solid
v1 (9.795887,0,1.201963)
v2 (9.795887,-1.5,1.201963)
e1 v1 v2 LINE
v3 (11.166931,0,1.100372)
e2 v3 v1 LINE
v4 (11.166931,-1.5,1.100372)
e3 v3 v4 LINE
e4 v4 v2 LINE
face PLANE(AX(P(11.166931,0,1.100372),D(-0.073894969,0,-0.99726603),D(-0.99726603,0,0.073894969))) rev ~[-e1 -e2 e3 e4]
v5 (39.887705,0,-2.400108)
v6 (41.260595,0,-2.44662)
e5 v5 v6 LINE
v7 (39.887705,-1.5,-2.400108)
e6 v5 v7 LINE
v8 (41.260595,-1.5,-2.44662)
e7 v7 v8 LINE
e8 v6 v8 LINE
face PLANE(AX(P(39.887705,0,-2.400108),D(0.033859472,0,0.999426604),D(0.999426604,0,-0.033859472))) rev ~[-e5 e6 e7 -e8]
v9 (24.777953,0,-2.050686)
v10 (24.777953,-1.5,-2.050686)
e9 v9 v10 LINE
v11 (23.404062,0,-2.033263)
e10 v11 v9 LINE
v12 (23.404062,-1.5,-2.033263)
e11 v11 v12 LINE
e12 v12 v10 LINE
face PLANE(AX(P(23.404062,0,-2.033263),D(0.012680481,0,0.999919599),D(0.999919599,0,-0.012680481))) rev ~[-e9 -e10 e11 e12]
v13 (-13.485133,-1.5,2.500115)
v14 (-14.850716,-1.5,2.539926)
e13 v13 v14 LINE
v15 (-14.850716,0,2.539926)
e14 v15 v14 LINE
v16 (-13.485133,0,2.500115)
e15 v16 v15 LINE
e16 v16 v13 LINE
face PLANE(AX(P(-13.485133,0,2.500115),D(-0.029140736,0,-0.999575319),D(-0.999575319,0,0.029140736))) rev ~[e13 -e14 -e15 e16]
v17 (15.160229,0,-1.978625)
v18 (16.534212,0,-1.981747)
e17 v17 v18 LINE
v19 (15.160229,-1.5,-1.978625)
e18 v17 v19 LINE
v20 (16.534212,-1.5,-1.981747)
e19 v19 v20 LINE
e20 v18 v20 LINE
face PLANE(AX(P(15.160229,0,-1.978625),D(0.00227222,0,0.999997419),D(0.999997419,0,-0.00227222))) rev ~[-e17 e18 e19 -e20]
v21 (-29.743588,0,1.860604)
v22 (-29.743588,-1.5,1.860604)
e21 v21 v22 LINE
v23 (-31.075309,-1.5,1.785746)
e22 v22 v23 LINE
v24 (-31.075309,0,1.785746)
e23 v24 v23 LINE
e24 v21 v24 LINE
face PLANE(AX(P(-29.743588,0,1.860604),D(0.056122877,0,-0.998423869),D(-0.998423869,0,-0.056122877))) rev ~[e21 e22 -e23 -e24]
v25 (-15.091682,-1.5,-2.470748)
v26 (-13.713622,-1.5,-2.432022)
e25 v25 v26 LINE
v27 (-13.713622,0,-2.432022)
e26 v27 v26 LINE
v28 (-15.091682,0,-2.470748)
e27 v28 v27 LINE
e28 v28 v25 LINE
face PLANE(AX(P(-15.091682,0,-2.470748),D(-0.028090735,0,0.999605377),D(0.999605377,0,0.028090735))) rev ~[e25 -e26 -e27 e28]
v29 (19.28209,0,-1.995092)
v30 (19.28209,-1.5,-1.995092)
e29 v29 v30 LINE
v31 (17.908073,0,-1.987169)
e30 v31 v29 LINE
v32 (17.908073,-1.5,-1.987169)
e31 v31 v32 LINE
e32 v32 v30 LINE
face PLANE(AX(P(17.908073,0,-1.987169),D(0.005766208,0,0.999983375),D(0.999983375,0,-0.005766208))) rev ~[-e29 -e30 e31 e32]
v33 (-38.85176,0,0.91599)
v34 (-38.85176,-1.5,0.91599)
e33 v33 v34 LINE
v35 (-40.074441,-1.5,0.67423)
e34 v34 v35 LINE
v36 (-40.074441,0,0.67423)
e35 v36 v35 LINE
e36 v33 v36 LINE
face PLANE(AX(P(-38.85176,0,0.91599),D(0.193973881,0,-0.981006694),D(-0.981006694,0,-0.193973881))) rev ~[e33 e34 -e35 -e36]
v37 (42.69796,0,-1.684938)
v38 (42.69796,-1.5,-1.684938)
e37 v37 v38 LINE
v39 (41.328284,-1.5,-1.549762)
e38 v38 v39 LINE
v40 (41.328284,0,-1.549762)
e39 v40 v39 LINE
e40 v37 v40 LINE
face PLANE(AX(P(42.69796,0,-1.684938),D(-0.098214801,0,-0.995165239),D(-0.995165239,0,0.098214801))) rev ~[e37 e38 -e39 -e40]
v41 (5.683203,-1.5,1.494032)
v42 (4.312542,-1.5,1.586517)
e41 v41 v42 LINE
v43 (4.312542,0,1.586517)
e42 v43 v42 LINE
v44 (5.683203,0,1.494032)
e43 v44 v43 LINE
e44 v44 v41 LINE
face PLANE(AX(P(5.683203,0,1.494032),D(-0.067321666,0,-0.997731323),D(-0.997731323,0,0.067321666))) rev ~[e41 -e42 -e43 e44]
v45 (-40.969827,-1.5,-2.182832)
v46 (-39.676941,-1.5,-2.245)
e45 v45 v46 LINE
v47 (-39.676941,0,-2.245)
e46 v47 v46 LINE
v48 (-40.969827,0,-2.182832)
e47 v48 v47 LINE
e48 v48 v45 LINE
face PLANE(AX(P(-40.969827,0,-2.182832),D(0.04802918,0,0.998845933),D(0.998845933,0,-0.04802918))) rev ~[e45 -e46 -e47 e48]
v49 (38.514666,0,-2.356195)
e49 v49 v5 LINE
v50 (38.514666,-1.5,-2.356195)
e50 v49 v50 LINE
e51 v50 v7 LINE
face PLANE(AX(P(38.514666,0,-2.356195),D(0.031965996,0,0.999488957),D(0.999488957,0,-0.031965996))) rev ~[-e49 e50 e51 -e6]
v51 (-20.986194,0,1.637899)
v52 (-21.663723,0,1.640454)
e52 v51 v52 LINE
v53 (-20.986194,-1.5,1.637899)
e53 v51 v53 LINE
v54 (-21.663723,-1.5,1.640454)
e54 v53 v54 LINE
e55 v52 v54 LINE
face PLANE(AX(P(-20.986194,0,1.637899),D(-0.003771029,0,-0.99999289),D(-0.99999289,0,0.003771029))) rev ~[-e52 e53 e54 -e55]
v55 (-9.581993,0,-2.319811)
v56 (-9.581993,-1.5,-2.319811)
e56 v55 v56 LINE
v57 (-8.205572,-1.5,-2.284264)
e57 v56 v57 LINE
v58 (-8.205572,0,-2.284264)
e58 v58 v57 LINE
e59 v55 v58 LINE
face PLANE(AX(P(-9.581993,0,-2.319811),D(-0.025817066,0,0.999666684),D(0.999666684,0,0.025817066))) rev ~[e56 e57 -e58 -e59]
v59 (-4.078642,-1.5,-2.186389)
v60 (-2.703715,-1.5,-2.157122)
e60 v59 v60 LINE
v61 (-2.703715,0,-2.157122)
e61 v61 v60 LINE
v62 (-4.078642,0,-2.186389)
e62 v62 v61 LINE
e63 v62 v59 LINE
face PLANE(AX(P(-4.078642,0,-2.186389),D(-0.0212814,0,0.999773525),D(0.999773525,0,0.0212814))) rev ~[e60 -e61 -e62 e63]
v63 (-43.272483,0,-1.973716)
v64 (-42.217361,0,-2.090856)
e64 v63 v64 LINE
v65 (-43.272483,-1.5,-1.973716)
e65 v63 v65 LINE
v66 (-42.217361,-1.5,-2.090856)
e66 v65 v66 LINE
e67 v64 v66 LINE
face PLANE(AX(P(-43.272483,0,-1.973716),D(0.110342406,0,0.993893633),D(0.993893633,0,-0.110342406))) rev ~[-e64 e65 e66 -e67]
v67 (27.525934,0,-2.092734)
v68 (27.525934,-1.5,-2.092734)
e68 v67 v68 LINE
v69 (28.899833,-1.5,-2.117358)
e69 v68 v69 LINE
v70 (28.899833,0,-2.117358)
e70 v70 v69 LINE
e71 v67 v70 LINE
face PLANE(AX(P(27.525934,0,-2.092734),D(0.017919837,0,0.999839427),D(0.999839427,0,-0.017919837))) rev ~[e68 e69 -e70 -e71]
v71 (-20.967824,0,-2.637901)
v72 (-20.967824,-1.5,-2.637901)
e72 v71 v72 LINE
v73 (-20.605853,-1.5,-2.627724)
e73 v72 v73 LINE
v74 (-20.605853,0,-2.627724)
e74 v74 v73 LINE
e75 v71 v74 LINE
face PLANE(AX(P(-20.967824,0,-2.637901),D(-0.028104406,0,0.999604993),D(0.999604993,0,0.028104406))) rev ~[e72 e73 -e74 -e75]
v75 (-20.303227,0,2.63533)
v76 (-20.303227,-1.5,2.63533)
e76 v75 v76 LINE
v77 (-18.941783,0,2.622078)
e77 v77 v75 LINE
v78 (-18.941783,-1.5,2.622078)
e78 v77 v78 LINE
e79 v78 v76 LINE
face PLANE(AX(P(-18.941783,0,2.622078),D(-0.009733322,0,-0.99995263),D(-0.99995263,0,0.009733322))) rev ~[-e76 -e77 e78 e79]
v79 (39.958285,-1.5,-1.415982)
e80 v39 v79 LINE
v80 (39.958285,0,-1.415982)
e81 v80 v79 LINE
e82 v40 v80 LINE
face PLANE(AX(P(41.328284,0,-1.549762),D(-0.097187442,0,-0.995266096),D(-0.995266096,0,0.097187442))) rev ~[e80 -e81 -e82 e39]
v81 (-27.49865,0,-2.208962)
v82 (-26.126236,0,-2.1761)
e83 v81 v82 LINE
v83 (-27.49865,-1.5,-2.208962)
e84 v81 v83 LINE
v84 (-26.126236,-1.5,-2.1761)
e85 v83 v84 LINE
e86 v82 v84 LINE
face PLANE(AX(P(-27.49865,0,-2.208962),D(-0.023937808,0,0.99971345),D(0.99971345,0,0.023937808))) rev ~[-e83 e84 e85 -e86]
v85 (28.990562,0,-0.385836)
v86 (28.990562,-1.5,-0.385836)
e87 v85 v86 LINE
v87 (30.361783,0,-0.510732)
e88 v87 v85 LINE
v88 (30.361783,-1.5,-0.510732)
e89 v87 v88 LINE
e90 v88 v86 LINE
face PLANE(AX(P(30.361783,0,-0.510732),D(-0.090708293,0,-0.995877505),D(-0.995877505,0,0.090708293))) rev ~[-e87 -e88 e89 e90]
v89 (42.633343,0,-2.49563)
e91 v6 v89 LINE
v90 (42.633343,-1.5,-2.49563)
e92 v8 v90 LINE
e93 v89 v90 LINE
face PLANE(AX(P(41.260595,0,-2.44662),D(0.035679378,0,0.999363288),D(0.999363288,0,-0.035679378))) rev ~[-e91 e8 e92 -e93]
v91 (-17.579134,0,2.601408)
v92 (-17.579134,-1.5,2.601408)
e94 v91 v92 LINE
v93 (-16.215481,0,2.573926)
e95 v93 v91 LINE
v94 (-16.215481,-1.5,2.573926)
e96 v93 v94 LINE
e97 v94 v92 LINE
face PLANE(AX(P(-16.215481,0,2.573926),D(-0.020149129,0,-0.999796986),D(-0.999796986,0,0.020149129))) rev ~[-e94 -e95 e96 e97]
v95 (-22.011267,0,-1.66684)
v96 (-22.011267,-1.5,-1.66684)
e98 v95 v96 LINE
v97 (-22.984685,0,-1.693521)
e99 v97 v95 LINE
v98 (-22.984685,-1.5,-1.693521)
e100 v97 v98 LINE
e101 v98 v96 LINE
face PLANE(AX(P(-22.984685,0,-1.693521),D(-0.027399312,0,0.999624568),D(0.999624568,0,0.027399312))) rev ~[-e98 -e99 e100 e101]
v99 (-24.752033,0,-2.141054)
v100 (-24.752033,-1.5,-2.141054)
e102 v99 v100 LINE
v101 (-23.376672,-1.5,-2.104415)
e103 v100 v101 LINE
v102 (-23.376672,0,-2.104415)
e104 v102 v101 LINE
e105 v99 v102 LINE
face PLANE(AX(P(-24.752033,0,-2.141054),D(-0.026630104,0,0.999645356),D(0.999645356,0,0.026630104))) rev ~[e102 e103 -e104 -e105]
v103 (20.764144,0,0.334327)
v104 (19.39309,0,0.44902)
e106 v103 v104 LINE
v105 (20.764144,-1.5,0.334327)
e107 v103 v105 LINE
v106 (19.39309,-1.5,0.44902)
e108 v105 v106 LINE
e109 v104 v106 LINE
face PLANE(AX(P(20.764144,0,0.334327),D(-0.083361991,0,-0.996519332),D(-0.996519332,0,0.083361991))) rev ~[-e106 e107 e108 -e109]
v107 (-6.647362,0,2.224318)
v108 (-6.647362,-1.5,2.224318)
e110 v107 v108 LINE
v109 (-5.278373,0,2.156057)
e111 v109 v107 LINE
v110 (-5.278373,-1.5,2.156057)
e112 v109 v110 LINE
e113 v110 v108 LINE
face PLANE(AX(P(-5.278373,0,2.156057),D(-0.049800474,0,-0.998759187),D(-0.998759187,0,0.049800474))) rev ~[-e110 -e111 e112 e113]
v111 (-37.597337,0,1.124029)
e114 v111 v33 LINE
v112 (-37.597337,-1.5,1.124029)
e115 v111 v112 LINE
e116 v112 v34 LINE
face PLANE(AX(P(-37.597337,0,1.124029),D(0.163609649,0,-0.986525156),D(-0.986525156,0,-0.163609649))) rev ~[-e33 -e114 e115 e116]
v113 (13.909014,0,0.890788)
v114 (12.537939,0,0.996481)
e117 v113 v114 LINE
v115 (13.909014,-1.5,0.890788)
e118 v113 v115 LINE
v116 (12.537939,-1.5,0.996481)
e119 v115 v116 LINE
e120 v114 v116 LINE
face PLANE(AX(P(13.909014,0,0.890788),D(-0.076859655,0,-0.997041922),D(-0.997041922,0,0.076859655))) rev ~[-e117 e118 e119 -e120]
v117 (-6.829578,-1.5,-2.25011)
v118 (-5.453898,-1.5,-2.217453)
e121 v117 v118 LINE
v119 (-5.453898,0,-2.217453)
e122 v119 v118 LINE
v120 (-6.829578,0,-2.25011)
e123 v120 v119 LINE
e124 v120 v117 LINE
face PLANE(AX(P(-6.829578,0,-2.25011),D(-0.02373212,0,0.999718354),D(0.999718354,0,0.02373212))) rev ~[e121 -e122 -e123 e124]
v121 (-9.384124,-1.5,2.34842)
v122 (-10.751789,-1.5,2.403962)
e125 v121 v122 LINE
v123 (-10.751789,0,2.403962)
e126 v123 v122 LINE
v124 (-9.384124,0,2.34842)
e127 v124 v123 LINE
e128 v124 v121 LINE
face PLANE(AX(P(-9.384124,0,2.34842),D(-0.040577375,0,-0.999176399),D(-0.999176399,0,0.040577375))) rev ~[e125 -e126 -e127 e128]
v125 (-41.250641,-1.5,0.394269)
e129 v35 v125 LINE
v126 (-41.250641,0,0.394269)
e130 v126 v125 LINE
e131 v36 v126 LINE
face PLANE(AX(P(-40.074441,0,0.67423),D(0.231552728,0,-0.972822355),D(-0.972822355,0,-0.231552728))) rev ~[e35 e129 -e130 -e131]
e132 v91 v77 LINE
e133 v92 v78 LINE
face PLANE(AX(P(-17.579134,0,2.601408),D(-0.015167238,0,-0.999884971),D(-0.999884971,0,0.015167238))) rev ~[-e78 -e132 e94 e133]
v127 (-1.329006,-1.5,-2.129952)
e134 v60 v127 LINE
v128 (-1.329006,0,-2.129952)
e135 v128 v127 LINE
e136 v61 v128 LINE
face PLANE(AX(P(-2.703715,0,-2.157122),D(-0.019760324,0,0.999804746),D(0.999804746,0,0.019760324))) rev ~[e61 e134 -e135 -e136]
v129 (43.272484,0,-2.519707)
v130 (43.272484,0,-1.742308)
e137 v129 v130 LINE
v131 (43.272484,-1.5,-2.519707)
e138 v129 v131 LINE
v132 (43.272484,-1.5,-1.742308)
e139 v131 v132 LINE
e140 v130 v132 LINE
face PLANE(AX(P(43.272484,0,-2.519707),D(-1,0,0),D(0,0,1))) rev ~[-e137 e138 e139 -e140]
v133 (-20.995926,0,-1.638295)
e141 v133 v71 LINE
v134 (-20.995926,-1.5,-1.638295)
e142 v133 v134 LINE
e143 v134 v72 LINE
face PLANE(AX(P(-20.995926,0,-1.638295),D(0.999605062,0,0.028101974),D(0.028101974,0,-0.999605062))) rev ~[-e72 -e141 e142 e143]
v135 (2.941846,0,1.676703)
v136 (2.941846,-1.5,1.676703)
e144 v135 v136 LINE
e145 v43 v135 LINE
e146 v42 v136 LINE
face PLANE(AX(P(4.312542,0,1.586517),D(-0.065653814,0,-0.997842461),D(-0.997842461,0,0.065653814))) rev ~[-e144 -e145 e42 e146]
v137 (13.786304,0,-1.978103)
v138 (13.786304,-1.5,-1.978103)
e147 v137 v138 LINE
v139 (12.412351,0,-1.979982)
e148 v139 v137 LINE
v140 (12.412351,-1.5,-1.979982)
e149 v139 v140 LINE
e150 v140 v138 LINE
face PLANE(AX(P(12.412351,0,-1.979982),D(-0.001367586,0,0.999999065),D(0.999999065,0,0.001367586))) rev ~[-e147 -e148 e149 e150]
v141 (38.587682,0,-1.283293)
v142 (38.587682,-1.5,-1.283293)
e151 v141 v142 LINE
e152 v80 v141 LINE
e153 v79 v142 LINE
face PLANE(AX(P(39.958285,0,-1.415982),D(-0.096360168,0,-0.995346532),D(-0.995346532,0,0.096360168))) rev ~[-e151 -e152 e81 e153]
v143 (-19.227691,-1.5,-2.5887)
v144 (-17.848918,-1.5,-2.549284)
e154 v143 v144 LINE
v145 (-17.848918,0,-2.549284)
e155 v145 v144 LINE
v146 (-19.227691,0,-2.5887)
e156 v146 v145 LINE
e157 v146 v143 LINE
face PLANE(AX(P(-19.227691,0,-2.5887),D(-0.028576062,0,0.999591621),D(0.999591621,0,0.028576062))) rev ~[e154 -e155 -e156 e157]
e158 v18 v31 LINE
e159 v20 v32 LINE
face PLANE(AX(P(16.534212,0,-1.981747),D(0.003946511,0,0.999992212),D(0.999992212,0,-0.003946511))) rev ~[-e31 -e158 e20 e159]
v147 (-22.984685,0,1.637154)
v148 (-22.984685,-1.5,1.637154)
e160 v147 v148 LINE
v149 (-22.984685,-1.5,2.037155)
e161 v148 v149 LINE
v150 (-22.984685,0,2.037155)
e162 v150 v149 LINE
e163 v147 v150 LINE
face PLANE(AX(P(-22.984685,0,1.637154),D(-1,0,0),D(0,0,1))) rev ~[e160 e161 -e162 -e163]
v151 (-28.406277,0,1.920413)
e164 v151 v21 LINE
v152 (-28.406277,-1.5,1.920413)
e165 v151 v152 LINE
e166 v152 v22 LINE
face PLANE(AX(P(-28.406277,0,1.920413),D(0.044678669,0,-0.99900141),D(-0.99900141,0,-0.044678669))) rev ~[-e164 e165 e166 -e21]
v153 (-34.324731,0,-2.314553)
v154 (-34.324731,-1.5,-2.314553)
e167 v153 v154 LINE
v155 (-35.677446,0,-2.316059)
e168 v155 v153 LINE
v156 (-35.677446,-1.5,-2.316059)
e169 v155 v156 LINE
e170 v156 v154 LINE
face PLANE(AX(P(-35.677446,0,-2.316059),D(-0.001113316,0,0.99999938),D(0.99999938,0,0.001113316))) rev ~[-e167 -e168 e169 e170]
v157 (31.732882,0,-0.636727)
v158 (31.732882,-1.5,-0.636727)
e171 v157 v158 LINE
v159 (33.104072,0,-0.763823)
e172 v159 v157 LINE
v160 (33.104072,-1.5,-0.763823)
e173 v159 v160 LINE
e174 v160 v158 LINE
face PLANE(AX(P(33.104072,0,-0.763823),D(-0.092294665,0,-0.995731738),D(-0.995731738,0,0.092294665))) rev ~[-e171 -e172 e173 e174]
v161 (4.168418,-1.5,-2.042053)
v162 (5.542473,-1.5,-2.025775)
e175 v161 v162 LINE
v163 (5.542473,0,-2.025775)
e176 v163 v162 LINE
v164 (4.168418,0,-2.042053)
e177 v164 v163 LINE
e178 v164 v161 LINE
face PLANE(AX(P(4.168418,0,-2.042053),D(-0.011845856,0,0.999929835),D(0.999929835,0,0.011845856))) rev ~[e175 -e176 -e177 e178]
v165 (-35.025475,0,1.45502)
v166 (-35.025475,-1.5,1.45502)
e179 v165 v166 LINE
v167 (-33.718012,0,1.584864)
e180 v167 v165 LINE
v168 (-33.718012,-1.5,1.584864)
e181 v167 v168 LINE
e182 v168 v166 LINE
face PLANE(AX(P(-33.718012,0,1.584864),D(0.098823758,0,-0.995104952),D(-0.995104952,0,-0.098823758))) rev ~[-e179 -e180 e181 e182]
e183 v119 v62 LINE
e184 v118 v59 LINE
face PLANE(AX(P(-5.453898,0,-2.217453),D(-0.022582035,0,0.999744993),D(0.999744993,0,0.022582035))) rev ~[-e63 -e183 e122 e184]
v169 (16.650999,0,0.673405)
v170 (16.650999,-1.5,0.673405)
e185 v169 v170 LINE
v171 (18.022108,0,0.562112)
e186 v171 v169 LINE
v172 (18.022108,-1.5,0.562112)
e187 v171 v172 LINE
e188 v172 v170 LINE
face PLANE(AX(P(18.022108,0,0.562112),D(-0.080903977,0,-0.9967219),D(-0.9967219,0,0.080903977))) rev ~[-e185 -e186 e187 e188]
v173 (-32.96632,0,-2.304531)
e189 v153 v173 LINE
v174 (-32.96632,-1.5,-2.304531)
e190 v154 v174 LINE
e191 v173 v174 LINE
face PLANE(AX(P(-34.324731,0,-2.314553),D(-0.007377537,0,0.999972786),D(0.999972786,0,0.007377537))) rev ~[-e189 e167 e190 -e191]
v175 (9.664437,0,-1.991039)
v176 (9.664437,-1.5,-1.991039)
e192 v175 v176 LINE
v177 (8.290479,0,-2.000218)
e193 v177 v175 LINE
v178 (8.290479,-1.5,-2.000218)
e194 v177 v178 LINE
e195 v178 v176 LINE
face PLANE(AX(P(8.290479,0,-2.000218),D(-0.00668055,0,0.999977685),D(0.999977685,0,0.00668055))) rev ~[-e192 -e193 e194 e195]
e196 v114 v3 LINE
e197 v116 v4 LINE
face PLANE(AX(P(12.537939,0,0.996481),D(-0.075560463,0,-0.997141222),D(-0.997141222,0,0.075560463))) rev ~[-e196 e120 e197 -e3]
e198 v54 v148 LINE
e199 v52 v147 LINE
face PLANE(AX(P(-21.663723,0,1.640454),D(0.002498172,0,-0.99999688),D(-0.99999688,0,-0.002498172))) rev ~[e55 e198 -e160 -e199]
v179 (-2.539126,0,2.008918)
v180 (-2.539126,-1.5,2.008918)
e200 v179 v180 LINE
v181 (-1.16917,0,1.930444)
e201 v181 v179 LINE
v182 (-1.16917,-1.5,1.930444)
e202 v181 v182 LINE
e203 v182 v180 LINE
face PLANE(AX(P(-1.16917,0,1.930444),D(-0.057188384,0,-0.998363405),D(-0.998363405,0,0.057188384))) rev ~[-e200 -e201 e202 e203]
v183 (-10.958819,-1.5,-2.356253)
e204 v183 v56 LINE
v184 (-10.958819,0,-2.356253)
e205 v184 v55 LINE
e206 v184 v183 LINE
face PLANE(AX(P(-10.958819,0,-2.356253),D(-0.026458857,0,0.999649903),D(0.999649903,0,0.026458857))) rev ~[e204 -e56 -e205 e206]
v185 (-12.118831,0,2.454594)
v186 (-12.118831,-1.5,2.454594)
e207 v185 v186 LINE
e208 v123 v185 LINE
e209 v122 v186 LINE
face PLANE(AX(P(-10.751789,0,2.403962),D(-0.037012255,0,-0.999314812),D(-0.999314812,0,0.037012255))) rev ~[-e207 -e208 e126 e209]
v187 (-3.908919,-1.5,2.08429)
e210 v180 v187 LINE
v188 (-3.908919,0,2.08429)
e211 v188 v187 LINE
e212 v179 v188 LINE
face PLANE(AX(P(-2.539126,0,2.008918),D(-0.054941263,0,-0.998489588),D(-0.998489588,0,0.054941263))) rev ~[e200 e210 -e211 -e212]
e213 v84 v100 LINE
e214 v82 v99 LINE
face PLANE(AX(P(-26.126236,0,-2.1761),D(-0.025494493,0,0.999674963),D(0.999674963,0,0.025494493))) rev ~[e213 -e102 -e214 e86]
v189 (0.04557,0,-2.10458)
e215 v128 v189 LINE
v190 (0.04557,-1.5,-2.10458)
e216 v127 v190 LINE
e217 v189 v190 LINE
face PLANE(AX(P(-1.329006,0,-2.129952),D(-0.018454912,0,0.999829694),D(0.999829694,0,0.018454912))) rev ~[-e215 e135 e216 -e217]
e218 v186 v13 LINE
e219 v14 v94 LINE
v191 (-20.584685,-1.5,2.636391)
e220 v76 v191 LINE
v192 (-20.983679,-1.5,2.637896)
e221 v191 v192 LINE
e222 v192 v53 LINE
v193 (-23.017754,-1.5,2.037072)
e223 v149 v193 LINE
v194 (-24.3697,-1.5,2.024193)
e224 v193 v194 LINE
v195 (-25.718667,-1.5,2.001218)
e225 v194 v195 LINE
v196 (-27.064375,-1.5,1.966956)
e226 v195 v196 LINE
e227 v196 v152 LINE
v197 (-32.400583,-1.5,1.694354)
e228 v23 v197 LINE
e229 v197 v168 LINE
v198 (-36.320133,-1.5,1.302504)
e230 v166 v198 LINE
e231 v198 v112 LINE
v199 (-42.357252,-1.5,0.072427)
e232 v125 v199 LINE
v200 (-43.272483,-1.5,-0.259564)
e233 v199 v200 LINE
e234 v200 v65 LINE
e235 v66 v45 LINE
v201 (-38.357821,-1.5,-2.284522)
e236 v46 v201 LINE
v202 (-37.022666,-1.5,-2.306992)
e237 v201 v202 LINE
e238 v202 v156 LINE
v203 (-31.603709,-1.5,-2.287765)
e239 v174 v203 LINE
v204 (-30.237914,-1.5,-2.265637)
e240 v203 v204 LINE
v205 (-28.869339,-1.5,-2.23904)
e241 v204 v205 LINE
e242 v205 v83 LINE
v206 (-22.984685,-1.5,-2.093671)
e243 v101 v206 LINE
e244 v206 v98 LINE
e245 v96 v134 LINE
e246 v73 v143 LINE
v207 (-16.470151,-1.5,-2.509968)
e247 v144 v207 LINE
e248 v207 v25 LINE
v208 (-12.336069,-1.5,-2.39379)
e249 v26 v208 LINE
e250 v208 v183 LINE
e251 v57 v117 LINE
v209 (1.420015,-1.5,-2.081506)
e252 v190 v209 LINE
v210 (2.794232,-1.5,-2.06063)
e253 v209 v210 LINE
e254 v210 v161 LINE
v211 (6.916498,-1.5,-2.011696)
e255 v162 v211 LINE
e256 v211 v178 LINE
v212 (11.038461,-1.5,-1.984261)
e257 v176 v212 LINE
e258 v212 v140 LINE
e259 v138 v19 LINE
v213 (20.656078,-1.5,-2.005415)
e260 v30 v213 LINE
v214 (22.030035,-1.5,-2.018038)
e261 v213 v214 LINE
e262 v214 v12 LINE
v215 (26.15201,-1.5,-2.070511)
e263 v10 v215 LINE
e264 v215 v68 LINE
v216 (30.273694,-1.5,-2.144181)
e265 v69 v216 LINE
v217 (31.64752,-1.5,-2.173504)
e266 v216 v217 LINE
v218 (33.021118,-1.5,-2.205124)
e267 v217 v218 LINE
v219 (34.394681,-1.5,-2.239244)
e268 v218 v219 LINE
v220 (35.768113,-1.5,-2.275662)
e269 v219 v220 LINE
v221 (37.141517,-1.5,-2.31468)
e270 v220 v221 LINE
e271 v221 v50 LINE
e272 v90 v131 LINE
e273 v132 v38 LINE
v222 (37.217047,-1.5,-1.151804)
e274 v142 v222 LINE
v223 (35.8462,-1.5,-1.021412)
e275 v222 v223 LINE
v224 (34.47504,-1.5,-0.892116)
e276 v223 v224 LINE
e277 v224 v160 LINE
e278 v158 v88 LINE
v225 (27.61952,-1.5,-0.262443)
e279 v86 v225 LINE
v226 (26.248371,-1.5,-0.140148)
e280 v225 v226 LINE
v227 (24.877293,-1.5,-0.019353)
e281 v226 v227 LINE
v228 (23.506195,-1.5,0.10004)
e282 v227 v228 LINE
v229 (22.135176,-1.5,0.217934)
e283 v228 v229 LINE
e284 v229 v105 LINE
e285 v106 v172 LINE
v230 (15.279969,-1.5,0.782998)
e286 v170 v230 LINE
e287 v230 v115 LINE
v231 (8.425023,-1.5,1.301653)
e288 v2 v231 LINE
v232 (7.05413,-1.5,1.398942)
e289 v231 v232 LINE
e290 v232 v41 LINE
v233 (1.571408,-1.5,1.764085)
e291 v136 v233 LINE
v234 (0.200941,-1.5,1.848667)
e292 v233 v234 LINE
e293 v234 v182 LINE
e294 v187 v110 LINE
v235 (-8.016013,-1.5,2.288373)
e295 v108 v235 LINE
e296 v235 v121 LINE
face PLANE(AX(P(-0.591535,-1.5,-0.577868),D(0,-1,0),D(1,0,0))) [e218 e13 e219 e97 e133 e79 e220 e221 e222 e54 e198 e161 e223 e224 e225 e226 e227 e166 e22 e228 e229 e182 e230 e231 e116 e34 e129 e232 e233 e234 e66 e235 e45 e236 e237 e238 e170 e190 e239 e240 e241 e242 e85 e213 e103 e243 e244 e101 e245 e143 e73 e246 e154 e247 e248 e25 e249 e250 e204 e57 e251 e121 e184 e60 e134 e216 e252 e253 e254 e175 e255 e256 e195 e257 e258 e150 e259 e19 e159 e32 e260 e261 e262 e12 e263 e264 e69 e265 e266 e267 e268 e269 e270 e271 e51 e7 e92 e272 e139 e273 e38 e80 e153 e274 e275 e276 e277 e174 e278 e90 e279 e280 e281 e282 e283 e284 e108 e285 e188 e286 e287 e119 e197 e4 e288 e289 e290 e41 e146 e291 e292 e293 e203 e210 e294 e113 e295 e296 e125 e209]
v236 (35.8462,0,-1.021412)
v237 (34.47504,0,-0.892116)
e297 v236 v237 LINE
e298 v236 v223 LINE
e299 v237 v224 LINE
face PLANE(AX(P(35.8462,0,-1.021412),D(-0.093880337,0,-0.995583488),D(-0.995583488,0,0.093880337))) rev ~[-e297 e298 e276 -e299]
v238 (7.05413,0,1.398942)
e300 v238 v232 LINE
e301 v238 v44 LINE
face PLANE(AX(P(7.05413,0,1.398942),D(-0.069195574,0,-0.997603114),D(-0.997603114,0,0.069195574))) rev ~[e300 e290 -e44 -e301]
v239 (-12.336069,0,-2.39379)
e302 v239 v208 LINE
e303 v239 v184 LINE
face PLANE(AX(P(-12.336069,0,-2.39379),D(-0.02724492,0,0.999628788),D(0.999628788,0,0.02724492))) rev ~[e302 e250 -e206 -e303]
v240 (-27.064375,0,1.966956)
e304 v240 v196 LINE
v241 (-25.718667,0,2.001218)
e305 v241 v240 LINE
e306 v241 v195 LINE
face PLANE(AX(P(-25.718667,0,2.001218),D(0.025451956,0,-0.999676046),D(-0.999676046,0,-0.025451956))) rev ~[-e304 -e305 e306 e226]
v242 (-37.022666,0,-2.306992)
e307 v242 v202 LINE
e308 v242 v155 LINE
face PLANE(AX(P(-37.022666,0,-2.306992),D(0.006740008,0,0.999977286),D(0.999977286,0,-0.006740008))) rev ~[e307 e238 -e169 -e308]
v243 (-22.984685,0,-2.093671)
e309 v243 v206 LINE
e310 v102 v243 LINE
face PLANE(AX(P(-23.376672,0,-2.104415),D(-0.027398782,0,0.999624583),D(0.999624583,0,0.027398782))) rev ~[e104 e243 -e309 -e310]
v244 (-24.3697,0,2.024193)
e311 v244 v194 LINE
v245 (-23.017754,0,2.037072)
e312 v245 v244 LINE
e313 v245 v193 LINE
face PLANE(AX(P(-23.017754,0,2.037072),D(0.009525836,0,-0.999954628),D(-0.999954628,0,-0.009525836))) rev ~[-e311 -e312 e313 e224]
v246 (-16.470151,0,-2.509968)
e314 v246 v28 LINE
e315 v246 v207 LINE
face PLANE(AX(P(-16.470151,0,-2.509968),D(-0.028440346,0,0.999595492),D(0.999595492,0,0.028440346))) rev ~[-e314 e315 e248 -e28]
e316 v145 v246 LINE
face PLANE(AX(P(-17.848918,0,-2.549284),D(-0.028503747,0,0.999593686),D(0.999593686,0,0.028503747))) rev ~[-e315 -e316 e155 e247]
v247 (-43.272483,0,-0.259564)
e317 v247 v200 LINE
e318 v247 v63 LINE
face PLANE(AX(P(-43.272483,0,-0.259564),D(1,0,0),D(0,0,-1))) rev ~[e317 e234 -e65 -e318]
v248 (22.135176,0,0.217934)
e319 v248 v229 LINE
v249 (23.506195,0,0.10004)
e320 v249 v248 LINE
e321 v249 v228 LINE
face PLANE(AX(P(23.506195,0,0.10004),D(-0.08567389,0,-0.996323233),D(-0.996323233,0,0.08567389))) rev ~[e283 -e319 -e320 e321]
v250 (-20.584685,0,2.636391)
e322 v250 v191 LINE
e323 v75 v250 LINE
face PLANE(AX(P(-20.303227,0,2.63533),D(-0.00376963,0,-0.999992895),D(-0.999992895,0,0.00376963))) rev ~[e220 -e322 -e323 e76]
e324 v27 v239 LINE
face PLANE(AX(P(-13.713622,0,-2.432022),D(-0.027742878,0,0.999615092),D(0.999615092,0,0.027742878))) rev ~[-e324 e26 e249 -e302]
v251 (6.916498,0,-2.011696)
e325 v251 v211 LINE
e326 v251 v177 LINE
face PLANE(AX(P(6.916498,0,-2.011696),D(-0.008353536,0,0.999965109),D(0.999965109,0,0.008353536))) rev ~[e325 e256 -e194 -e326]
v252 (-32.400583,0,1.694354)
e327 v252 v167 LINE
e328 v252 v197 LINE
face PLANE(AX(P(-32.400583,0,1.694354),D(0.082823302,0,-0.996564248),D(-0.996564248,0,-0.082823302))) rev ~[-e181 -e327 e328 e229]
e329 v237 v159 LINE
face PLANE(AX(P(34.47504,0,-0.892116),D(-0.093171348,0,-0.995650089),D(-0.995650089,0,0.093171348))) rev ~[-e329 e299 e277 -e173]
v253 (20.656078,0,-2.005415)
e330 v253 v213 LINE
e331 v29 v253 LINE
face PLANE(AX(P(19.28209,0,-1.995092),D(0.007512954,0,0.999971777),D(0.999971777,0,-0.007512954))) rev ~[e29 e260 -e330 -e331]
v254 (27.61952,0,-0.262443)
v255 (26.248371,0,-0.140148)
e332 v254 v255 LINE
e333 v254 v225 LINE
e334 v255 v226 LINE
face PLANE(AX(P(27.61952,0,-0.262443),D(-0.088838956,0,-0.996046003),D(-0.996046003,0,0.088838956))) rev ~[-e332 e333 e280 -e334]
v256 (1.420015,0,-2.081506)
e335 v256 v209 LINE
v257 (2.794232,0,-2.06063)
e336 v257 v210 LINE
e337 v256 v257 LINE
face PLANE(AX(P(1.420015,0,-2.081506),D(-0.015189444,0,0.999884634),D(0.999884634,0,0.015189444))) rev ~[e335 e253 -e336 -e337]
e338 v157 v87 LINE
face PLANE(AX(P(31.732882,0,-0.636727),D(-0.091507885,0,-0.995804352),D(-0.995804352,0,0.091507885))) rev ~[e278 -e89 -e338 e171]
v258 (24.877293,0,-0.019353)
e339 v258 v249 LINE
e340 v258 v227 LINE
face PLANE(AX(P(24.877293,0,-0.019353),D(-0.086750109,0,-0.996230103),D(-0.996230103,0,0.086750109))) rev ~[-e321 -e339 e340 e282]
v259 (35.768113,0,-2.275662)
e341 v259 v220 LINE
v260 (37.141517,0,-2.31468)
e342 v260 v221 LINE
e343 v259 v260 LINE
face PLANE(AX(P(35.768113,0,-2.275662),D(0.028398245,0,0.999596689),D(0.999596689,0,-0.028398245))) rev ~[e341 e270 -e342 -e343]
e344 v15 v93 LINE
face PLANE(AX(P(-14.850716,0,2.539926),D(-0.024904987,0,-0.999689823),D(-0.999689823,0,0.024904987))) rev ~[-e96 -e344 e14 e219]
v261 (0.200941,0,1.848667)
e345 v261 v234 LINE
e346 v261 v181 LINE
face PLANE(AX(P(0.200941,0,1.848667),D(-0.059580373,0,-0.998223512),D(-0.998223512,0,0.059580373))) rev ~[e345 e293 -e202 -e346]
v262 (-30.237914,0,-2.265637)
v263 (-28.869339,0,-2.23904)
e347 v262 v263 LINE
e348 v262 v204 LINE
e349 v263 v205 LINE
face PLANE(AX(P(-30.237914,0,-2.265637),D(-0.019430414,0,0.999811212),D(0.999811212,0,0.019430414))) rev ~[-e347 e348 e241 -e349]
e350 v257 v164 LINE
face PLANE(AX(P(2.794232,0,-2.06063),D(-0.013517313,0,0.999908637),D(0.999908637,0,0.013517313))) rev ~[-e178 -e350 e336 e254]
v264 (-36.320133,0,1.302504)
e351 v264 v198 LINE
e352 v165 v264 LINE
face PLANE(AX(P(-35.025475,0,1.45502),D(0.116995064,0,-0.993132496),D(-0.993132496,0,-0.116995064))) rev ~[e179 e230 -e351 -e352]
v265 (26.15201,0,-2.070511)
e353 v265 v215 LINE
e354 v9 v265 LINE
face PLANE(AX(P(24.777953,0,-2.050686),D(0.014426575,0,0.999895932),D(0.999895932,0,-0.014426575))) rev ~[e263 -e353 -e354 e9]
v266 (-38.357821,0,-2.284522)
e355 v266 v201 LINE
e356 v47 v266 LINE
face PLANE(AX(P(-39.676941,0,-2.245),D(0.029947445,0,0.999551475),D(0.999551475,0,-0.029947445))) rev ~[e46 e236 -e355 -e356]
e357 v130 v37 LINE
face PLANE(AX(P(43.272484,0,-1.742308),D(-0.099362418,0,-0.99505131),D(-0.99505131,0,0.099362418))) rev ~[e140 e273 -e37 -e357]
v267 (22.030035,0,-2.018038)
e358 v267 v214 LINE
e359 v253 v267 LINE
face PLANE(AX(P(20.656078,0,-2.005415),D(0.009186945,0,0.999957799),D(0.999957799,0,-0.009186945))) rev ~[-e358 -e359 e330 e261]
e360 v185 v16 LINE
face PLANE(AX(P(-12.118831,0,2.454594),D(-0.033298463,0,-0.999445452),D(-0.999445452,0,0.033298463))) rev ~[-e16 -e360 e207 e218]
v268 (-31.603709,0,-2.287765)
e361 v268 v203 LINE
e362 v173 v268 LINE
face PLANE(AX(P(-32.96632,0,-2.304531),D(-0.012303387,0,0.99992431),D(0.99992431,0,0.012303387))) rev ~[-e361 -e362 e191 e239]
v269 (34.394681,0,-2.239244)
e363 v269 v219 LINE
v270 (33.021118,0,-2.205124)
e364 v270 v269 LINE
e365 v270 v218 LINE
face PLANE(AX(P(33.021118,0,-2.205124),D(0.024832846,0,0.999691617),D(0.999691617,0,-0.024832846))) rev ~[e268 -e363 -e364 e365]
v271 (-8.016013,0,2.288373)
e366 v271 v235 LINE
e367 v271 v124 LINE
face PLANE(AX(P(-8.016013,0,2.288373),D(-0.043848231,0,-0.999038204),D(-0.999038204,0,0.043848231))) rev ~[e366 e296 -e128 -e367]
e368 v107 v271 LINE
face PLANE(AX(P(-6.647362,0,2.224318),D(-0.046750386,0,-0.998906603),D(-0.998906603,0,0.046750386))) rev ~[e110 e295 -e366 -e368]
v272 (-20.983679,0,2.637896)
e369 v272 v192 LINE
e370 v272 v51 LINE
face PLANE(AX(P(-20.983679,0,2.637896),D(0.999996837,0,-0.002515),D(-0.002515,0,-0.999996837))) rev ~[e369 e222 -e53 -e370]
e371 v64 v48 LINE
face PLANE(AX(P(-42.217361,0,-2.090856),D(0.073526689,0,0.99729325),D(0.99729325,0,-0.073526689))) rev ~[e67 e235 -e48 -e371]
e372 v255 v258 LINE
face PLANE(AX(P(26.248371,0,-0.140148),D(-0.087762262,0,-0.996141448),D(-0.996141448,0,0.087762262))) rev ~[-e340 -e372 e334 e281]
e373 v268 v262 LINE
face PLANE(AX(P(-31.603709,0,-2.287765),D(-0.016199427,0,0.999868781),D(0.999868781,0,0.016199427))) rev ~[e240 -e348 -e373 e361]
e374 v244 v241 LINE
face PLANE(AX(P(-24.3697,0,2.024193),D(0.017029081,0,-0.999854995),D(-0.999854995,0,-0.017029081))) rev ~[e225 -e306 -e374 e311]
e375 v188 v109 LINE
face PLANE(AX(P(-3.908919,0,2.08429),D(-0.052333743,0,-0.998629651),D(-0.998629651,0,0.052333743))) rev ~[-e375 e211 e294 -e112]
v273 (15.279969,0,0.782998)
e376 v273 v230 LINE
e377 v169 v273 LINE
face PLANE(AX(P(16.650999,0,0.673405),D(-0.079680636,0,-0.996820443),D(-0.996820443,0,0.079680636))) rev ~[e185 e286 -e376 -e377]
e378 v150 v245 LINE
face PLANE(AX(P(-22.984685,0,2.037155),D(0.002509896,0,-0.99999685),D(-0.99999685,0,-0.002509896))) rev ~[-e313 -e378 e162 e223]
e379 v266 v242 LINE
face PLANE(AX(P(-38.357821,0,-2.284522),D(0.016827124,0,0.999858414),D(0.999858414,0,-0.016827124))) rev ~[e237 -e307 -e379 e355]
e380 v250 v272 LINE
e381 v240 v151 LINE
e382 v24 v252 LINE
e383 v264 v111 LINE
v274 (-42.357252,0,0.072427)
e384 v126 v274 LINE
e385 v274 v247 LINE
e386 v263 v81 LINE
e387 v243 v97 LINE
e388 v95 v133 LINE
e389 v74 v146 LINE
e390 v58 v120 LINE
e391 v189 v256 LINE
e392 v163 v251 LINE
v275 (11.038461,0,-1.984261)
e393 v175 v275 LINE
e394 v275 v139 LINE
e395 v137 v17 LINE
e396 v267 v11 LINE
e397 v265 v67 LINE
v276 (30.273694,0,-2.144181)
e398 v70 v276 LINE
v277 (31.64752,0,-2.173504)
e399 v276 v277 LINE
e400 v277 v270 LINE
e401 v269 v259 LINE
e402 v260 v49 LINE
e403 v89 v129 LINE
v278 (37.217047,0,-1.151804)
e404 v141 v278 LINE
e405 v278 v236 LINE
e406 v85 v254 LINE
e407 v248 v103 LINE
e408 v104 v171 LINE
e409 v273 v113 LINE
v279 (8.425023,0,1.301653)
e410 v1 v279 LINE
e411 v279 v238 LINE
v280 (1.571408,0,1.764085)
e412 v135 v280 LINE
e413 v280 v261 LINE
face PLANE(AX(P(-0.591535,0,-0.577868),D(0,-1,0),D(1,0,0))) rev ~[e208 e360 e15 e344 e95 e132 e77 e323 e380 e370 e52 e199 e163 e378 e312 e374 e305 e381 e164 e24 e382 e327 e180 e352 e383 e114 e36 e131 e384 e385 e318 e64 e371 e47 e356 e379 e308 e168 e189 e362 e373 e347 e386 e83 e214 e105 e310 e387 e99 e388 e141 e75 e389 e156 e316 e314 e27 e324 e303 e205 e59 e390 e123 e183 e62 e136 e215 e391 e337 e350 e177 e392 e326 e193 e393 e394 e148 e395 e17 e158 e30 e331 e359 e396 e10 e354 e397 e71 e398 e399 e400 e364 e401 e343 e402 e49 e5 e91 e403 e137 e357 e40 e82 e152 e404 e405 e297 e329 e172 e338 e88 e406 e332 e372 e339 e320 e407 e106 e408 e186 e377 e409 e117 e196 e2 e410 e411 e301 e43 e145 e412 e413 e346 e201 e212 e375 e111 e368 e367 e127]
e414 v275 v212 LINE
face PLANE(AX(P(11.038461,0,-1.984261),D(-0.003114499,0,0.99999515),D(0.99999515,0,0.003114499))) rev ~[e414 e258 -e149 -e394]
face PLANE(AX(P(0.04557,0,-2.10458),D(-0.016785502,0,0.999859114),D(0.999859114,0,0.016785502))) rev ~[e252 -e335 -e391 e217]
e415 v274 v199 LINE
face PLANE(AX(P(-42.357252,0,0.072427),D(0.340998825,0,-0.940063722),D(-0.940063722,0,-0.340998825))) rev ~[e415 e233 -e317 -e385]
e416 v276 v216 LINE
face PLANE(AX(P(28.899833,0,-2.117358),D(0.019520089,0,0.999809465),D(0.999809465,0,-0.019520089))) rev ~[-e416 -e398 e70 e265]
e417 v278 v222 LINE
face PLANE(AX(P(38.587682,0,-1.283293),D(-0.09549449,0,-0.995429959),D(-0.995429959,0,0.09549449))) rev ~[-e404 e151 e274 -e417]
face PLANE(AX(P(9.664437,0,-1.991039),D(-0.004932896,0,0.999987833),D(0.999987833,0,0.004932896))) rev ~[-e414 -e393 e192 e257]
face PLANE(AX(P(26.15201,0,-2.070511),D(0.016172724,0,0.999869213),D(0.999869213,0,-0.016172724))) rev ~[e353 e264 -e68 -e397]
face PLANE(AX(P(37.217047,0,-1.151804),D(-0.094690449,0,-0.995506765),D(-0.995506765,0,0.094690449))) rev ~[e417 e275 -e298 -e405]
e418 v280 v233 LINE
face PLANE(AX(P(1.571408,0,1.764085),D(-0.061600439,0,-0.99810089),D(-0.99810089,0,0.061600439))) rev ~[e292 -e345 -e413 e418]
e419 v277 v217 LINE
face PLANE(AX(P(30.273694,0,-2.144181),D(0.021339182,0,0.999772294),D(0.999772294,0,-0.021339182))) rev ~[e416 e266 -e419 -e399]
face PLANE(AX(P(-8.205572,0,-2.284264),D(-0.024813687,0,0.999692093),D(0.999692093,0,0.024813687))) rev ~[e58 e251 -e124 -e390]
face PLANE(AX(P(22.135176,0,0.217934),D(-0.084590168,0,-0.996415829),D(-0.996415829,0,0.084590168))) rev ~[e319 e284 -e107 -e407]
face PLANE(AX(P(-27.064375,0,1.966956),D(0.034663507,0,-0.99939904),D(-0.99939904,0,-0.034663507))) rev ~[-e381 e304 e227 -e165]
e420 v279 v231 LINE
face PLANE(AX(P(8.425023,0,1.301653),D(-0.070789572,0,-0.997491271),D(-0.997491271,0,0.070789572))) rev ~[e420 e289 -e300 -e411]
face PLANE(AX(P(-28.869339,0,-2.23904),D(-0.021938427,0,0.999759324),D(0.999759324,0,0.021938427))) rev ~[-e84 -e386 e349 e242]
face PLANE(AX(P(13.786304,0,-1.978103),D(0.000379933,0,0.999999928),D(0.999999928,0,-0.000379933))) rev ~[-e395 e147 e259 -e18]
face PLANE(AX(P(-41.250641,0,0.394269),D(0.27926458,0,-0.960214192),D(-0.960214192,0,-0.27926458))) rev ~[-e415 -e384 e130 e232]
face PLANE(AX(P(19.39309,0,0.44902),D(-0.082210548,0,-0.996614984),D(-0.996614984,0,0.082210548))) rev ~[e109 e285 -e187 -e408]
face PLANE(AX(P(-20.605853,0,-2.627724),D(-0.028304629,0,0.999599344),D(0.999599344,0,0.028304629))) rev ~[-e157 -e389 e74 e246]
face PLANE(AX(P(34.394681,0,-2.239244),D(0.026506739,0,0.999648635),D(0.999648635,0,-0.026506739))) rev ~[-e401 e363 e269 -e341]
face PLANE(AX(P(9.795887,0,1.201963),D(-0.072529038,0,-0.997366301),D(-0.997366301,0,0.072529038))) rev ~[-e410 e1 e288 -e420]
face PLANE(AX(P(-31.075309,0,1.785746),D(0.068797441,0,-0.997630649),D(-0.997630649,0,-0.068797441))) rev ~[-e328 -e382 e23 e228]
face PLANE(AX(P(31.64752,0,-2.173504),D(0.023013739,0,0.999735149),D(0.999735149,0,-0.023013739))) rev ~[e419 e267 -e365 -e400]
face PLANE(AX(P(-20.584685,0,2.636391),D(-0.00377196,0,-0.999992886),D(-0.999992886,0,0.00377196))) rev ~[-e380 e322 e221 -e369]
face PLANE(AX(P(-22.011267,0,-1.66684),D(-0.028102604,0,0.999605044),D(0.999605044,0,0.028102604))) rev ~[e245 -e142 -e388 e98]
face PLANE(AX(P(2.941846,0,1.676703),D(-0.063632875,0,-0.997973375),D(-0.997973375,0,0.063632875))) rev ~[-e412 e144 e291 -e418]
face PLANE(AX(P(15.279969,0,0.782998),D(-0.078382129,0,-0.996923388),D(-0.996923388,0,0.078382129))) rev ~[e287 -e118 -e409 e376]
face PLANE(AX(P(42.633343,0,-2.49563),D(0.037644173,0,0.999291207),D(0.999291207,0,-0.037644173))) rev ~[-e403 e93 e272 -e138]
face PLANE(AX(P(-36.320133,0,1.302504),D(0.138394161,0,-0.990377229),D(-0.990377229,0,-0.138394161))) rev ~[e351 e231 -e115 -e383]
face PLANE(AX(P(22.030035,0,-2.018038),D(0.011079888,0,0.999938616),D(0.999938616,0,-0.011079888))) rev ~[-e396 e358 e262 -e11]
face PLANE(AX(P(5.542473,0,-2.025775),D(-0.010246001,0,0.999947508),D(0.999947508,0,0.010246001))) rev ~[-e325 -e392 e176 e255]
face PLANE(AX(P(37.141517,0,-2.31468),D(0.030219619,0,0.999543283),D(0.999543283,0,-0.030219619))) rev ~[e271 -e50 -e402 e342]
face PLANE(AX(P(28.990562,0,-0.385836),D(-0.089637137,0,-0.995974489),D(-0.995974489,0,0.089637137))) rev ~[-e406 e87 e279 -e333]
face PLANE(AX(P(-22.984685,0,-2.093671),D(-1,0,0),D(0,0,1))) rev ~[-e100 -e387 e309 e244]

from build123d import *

# Parameters (mm, degrees)
F1_DEPTH = 1.5


with BuildPart() as f1:
    # F0 (on Front) → F1 (new body)
    with BuildSketch(Plane.XZ):
        Polygon((42.633343, -2.49563), (43.272484, -2.519707), (43.272484, -1.742308), (42.69796, -1.684938), (41.328284, -1.549762), (39.958285, -1.415982), (38.587682, -1.283293), (37.217047, -1.151804), (35.8462, -1.021412), (34.47504, -0.892116), (33.104072, -0.763823), (31.732882, -0.636727), (30.361783, -0.510732), (28.990562, -0.385836), (27.61952, -0.262443), (26.248371, -0.140148), (24.877293, -0.019353), (23.506195, 0.10004), (22.135176, 0.217934), (20.764144, 0.334327), (19.39309, 0.44902), (18.022108, 0.562112), (16.650999, 0.673405), (15.279969, 0.782998), (13.909014, 0.890788), (12.537939, 0.996481), (11.166931, 1.100372), (9.795887, 1.201963), (8.425023, 1.301653), (7.05413, 1.398942), (5.683203, 1.494032), (4.312542, 1.586517), (2.941846, 1.676703), (1.571408, 1.764085), (0.200941, 1.848667), (-1.16917, 1.930444), (-2.539126, 2.008918), (-3.908919, 2.08429), (-5.278373, 2.156057), (-6.647362, 2.224318), (-8.016013, 2.288373), (-9.384124, 2.34842), (-10.751789, 2.403962), (-12.118831, 2.454594), (-13.485133, 2.500115), (-14.850716, 2.539926), (-16.215481, 2.573926), (-17.579134, 2.601408), (-18.941783, 2.622078), (-20.303227, 2.63533), (-20.584685, 2.636391), (-20.983679, 2.637896), (-20.986194, 1.637899), (-21.663723, 1.640454), (-22.984685, 1.637154), (-22.984685, 2.037155), (-23.017754, 2.037072), (-24.3697, 2.024193), (-25.718667, 2.001218), (-27.064375, 1.966956), (-28.406277, 1.920413), (-29.743588, 1.860604), (-31.075309, 1.785746), (-32.400583, 1.694354), (-33.718012, 1.584864), (-35.025475, 1.45502), (-36.320133, 1.302504), (-37.597337, 1.124029), (-38.85176, 0.91599), (-40.074441, 0.67423), (-41.250641, 0.394269), (-42.357252, 0.072427), (-43.272483, -0.259564), (-43.272483, -1.973716), (-42.217361, -2.090856), (-40.969827, -2.182832), (-39.676941, -2.245), (-38.357821, -2.284522), (-37.022666, -2.306992), (-35.677446, -2.316059), (-34.324731, -2.314553), (-32.96632, -2.304531), (-31.603709, -2.287765), (-30.237914, -2.265637), (-28.869339, -2.23904), (-27.49865, -2.208962), (-26.126236, -2.1761), (-24.752033, -2.141054), (-23.376672, -2.104415), (-22.984685, -2.093671), (-22.984685, -1.693521), (-22.011267, -1.66684), (-20.995926, -1.638295), (-20.967824, -2.637901), (-20.605853, -2.627724), (-19.227691, -2.5887), (-17.848918, -2.549284), (-16.470151, -2.509968), (-15.091682, -2.470748), (-13.713622, -2.432022), (-12.336069, -2.39379), (-10.958819, -2.356253), (-9.581993, -2.319811), (-8.205572, -2.284264), (-6.829578, -2.25011), (-5.453898, -2.217453), (-4.078642, -2.186389), (-2.703715, -2.157122), (-1.329006, -2.129952), (0.04557, -2.10458), (1.420015, -2.081506), (2.794232, -2.06063), (4.168418, -2.042053), (5.542473, -2.025775), (6.916498, -2.011696), (8.290479, -2.000218), (9.664437, -1.991039), (11.038461, -1.984261), (12.412351, -1.979982), (13.786304, -1.978103), (15.160229, -1.978625), (16.534212, -1.981747), (17.908073, -1.987169), (19.28209, -1.995092), (20.656078, -2.005415), (22.030035, -2.018038), (23.404062, -2.033263), (24.777953, -2.050686), (26.15201, -2.070511), (27.525934, -2.092734), (28.899833, -2.117358), (30.273694, -2.144181), (31.64752, -2.173504), (33.021118, -2.205124), (34.394681, -2.239244), (35.768113, -2.275662), (37.141517, -2.31468), (38.514666, -2.356195), (39.887705, -2.400108), (41.260595, -2.44662), align=None)
    extrude(amount=F1_DEPTH)


solid = f1.part
